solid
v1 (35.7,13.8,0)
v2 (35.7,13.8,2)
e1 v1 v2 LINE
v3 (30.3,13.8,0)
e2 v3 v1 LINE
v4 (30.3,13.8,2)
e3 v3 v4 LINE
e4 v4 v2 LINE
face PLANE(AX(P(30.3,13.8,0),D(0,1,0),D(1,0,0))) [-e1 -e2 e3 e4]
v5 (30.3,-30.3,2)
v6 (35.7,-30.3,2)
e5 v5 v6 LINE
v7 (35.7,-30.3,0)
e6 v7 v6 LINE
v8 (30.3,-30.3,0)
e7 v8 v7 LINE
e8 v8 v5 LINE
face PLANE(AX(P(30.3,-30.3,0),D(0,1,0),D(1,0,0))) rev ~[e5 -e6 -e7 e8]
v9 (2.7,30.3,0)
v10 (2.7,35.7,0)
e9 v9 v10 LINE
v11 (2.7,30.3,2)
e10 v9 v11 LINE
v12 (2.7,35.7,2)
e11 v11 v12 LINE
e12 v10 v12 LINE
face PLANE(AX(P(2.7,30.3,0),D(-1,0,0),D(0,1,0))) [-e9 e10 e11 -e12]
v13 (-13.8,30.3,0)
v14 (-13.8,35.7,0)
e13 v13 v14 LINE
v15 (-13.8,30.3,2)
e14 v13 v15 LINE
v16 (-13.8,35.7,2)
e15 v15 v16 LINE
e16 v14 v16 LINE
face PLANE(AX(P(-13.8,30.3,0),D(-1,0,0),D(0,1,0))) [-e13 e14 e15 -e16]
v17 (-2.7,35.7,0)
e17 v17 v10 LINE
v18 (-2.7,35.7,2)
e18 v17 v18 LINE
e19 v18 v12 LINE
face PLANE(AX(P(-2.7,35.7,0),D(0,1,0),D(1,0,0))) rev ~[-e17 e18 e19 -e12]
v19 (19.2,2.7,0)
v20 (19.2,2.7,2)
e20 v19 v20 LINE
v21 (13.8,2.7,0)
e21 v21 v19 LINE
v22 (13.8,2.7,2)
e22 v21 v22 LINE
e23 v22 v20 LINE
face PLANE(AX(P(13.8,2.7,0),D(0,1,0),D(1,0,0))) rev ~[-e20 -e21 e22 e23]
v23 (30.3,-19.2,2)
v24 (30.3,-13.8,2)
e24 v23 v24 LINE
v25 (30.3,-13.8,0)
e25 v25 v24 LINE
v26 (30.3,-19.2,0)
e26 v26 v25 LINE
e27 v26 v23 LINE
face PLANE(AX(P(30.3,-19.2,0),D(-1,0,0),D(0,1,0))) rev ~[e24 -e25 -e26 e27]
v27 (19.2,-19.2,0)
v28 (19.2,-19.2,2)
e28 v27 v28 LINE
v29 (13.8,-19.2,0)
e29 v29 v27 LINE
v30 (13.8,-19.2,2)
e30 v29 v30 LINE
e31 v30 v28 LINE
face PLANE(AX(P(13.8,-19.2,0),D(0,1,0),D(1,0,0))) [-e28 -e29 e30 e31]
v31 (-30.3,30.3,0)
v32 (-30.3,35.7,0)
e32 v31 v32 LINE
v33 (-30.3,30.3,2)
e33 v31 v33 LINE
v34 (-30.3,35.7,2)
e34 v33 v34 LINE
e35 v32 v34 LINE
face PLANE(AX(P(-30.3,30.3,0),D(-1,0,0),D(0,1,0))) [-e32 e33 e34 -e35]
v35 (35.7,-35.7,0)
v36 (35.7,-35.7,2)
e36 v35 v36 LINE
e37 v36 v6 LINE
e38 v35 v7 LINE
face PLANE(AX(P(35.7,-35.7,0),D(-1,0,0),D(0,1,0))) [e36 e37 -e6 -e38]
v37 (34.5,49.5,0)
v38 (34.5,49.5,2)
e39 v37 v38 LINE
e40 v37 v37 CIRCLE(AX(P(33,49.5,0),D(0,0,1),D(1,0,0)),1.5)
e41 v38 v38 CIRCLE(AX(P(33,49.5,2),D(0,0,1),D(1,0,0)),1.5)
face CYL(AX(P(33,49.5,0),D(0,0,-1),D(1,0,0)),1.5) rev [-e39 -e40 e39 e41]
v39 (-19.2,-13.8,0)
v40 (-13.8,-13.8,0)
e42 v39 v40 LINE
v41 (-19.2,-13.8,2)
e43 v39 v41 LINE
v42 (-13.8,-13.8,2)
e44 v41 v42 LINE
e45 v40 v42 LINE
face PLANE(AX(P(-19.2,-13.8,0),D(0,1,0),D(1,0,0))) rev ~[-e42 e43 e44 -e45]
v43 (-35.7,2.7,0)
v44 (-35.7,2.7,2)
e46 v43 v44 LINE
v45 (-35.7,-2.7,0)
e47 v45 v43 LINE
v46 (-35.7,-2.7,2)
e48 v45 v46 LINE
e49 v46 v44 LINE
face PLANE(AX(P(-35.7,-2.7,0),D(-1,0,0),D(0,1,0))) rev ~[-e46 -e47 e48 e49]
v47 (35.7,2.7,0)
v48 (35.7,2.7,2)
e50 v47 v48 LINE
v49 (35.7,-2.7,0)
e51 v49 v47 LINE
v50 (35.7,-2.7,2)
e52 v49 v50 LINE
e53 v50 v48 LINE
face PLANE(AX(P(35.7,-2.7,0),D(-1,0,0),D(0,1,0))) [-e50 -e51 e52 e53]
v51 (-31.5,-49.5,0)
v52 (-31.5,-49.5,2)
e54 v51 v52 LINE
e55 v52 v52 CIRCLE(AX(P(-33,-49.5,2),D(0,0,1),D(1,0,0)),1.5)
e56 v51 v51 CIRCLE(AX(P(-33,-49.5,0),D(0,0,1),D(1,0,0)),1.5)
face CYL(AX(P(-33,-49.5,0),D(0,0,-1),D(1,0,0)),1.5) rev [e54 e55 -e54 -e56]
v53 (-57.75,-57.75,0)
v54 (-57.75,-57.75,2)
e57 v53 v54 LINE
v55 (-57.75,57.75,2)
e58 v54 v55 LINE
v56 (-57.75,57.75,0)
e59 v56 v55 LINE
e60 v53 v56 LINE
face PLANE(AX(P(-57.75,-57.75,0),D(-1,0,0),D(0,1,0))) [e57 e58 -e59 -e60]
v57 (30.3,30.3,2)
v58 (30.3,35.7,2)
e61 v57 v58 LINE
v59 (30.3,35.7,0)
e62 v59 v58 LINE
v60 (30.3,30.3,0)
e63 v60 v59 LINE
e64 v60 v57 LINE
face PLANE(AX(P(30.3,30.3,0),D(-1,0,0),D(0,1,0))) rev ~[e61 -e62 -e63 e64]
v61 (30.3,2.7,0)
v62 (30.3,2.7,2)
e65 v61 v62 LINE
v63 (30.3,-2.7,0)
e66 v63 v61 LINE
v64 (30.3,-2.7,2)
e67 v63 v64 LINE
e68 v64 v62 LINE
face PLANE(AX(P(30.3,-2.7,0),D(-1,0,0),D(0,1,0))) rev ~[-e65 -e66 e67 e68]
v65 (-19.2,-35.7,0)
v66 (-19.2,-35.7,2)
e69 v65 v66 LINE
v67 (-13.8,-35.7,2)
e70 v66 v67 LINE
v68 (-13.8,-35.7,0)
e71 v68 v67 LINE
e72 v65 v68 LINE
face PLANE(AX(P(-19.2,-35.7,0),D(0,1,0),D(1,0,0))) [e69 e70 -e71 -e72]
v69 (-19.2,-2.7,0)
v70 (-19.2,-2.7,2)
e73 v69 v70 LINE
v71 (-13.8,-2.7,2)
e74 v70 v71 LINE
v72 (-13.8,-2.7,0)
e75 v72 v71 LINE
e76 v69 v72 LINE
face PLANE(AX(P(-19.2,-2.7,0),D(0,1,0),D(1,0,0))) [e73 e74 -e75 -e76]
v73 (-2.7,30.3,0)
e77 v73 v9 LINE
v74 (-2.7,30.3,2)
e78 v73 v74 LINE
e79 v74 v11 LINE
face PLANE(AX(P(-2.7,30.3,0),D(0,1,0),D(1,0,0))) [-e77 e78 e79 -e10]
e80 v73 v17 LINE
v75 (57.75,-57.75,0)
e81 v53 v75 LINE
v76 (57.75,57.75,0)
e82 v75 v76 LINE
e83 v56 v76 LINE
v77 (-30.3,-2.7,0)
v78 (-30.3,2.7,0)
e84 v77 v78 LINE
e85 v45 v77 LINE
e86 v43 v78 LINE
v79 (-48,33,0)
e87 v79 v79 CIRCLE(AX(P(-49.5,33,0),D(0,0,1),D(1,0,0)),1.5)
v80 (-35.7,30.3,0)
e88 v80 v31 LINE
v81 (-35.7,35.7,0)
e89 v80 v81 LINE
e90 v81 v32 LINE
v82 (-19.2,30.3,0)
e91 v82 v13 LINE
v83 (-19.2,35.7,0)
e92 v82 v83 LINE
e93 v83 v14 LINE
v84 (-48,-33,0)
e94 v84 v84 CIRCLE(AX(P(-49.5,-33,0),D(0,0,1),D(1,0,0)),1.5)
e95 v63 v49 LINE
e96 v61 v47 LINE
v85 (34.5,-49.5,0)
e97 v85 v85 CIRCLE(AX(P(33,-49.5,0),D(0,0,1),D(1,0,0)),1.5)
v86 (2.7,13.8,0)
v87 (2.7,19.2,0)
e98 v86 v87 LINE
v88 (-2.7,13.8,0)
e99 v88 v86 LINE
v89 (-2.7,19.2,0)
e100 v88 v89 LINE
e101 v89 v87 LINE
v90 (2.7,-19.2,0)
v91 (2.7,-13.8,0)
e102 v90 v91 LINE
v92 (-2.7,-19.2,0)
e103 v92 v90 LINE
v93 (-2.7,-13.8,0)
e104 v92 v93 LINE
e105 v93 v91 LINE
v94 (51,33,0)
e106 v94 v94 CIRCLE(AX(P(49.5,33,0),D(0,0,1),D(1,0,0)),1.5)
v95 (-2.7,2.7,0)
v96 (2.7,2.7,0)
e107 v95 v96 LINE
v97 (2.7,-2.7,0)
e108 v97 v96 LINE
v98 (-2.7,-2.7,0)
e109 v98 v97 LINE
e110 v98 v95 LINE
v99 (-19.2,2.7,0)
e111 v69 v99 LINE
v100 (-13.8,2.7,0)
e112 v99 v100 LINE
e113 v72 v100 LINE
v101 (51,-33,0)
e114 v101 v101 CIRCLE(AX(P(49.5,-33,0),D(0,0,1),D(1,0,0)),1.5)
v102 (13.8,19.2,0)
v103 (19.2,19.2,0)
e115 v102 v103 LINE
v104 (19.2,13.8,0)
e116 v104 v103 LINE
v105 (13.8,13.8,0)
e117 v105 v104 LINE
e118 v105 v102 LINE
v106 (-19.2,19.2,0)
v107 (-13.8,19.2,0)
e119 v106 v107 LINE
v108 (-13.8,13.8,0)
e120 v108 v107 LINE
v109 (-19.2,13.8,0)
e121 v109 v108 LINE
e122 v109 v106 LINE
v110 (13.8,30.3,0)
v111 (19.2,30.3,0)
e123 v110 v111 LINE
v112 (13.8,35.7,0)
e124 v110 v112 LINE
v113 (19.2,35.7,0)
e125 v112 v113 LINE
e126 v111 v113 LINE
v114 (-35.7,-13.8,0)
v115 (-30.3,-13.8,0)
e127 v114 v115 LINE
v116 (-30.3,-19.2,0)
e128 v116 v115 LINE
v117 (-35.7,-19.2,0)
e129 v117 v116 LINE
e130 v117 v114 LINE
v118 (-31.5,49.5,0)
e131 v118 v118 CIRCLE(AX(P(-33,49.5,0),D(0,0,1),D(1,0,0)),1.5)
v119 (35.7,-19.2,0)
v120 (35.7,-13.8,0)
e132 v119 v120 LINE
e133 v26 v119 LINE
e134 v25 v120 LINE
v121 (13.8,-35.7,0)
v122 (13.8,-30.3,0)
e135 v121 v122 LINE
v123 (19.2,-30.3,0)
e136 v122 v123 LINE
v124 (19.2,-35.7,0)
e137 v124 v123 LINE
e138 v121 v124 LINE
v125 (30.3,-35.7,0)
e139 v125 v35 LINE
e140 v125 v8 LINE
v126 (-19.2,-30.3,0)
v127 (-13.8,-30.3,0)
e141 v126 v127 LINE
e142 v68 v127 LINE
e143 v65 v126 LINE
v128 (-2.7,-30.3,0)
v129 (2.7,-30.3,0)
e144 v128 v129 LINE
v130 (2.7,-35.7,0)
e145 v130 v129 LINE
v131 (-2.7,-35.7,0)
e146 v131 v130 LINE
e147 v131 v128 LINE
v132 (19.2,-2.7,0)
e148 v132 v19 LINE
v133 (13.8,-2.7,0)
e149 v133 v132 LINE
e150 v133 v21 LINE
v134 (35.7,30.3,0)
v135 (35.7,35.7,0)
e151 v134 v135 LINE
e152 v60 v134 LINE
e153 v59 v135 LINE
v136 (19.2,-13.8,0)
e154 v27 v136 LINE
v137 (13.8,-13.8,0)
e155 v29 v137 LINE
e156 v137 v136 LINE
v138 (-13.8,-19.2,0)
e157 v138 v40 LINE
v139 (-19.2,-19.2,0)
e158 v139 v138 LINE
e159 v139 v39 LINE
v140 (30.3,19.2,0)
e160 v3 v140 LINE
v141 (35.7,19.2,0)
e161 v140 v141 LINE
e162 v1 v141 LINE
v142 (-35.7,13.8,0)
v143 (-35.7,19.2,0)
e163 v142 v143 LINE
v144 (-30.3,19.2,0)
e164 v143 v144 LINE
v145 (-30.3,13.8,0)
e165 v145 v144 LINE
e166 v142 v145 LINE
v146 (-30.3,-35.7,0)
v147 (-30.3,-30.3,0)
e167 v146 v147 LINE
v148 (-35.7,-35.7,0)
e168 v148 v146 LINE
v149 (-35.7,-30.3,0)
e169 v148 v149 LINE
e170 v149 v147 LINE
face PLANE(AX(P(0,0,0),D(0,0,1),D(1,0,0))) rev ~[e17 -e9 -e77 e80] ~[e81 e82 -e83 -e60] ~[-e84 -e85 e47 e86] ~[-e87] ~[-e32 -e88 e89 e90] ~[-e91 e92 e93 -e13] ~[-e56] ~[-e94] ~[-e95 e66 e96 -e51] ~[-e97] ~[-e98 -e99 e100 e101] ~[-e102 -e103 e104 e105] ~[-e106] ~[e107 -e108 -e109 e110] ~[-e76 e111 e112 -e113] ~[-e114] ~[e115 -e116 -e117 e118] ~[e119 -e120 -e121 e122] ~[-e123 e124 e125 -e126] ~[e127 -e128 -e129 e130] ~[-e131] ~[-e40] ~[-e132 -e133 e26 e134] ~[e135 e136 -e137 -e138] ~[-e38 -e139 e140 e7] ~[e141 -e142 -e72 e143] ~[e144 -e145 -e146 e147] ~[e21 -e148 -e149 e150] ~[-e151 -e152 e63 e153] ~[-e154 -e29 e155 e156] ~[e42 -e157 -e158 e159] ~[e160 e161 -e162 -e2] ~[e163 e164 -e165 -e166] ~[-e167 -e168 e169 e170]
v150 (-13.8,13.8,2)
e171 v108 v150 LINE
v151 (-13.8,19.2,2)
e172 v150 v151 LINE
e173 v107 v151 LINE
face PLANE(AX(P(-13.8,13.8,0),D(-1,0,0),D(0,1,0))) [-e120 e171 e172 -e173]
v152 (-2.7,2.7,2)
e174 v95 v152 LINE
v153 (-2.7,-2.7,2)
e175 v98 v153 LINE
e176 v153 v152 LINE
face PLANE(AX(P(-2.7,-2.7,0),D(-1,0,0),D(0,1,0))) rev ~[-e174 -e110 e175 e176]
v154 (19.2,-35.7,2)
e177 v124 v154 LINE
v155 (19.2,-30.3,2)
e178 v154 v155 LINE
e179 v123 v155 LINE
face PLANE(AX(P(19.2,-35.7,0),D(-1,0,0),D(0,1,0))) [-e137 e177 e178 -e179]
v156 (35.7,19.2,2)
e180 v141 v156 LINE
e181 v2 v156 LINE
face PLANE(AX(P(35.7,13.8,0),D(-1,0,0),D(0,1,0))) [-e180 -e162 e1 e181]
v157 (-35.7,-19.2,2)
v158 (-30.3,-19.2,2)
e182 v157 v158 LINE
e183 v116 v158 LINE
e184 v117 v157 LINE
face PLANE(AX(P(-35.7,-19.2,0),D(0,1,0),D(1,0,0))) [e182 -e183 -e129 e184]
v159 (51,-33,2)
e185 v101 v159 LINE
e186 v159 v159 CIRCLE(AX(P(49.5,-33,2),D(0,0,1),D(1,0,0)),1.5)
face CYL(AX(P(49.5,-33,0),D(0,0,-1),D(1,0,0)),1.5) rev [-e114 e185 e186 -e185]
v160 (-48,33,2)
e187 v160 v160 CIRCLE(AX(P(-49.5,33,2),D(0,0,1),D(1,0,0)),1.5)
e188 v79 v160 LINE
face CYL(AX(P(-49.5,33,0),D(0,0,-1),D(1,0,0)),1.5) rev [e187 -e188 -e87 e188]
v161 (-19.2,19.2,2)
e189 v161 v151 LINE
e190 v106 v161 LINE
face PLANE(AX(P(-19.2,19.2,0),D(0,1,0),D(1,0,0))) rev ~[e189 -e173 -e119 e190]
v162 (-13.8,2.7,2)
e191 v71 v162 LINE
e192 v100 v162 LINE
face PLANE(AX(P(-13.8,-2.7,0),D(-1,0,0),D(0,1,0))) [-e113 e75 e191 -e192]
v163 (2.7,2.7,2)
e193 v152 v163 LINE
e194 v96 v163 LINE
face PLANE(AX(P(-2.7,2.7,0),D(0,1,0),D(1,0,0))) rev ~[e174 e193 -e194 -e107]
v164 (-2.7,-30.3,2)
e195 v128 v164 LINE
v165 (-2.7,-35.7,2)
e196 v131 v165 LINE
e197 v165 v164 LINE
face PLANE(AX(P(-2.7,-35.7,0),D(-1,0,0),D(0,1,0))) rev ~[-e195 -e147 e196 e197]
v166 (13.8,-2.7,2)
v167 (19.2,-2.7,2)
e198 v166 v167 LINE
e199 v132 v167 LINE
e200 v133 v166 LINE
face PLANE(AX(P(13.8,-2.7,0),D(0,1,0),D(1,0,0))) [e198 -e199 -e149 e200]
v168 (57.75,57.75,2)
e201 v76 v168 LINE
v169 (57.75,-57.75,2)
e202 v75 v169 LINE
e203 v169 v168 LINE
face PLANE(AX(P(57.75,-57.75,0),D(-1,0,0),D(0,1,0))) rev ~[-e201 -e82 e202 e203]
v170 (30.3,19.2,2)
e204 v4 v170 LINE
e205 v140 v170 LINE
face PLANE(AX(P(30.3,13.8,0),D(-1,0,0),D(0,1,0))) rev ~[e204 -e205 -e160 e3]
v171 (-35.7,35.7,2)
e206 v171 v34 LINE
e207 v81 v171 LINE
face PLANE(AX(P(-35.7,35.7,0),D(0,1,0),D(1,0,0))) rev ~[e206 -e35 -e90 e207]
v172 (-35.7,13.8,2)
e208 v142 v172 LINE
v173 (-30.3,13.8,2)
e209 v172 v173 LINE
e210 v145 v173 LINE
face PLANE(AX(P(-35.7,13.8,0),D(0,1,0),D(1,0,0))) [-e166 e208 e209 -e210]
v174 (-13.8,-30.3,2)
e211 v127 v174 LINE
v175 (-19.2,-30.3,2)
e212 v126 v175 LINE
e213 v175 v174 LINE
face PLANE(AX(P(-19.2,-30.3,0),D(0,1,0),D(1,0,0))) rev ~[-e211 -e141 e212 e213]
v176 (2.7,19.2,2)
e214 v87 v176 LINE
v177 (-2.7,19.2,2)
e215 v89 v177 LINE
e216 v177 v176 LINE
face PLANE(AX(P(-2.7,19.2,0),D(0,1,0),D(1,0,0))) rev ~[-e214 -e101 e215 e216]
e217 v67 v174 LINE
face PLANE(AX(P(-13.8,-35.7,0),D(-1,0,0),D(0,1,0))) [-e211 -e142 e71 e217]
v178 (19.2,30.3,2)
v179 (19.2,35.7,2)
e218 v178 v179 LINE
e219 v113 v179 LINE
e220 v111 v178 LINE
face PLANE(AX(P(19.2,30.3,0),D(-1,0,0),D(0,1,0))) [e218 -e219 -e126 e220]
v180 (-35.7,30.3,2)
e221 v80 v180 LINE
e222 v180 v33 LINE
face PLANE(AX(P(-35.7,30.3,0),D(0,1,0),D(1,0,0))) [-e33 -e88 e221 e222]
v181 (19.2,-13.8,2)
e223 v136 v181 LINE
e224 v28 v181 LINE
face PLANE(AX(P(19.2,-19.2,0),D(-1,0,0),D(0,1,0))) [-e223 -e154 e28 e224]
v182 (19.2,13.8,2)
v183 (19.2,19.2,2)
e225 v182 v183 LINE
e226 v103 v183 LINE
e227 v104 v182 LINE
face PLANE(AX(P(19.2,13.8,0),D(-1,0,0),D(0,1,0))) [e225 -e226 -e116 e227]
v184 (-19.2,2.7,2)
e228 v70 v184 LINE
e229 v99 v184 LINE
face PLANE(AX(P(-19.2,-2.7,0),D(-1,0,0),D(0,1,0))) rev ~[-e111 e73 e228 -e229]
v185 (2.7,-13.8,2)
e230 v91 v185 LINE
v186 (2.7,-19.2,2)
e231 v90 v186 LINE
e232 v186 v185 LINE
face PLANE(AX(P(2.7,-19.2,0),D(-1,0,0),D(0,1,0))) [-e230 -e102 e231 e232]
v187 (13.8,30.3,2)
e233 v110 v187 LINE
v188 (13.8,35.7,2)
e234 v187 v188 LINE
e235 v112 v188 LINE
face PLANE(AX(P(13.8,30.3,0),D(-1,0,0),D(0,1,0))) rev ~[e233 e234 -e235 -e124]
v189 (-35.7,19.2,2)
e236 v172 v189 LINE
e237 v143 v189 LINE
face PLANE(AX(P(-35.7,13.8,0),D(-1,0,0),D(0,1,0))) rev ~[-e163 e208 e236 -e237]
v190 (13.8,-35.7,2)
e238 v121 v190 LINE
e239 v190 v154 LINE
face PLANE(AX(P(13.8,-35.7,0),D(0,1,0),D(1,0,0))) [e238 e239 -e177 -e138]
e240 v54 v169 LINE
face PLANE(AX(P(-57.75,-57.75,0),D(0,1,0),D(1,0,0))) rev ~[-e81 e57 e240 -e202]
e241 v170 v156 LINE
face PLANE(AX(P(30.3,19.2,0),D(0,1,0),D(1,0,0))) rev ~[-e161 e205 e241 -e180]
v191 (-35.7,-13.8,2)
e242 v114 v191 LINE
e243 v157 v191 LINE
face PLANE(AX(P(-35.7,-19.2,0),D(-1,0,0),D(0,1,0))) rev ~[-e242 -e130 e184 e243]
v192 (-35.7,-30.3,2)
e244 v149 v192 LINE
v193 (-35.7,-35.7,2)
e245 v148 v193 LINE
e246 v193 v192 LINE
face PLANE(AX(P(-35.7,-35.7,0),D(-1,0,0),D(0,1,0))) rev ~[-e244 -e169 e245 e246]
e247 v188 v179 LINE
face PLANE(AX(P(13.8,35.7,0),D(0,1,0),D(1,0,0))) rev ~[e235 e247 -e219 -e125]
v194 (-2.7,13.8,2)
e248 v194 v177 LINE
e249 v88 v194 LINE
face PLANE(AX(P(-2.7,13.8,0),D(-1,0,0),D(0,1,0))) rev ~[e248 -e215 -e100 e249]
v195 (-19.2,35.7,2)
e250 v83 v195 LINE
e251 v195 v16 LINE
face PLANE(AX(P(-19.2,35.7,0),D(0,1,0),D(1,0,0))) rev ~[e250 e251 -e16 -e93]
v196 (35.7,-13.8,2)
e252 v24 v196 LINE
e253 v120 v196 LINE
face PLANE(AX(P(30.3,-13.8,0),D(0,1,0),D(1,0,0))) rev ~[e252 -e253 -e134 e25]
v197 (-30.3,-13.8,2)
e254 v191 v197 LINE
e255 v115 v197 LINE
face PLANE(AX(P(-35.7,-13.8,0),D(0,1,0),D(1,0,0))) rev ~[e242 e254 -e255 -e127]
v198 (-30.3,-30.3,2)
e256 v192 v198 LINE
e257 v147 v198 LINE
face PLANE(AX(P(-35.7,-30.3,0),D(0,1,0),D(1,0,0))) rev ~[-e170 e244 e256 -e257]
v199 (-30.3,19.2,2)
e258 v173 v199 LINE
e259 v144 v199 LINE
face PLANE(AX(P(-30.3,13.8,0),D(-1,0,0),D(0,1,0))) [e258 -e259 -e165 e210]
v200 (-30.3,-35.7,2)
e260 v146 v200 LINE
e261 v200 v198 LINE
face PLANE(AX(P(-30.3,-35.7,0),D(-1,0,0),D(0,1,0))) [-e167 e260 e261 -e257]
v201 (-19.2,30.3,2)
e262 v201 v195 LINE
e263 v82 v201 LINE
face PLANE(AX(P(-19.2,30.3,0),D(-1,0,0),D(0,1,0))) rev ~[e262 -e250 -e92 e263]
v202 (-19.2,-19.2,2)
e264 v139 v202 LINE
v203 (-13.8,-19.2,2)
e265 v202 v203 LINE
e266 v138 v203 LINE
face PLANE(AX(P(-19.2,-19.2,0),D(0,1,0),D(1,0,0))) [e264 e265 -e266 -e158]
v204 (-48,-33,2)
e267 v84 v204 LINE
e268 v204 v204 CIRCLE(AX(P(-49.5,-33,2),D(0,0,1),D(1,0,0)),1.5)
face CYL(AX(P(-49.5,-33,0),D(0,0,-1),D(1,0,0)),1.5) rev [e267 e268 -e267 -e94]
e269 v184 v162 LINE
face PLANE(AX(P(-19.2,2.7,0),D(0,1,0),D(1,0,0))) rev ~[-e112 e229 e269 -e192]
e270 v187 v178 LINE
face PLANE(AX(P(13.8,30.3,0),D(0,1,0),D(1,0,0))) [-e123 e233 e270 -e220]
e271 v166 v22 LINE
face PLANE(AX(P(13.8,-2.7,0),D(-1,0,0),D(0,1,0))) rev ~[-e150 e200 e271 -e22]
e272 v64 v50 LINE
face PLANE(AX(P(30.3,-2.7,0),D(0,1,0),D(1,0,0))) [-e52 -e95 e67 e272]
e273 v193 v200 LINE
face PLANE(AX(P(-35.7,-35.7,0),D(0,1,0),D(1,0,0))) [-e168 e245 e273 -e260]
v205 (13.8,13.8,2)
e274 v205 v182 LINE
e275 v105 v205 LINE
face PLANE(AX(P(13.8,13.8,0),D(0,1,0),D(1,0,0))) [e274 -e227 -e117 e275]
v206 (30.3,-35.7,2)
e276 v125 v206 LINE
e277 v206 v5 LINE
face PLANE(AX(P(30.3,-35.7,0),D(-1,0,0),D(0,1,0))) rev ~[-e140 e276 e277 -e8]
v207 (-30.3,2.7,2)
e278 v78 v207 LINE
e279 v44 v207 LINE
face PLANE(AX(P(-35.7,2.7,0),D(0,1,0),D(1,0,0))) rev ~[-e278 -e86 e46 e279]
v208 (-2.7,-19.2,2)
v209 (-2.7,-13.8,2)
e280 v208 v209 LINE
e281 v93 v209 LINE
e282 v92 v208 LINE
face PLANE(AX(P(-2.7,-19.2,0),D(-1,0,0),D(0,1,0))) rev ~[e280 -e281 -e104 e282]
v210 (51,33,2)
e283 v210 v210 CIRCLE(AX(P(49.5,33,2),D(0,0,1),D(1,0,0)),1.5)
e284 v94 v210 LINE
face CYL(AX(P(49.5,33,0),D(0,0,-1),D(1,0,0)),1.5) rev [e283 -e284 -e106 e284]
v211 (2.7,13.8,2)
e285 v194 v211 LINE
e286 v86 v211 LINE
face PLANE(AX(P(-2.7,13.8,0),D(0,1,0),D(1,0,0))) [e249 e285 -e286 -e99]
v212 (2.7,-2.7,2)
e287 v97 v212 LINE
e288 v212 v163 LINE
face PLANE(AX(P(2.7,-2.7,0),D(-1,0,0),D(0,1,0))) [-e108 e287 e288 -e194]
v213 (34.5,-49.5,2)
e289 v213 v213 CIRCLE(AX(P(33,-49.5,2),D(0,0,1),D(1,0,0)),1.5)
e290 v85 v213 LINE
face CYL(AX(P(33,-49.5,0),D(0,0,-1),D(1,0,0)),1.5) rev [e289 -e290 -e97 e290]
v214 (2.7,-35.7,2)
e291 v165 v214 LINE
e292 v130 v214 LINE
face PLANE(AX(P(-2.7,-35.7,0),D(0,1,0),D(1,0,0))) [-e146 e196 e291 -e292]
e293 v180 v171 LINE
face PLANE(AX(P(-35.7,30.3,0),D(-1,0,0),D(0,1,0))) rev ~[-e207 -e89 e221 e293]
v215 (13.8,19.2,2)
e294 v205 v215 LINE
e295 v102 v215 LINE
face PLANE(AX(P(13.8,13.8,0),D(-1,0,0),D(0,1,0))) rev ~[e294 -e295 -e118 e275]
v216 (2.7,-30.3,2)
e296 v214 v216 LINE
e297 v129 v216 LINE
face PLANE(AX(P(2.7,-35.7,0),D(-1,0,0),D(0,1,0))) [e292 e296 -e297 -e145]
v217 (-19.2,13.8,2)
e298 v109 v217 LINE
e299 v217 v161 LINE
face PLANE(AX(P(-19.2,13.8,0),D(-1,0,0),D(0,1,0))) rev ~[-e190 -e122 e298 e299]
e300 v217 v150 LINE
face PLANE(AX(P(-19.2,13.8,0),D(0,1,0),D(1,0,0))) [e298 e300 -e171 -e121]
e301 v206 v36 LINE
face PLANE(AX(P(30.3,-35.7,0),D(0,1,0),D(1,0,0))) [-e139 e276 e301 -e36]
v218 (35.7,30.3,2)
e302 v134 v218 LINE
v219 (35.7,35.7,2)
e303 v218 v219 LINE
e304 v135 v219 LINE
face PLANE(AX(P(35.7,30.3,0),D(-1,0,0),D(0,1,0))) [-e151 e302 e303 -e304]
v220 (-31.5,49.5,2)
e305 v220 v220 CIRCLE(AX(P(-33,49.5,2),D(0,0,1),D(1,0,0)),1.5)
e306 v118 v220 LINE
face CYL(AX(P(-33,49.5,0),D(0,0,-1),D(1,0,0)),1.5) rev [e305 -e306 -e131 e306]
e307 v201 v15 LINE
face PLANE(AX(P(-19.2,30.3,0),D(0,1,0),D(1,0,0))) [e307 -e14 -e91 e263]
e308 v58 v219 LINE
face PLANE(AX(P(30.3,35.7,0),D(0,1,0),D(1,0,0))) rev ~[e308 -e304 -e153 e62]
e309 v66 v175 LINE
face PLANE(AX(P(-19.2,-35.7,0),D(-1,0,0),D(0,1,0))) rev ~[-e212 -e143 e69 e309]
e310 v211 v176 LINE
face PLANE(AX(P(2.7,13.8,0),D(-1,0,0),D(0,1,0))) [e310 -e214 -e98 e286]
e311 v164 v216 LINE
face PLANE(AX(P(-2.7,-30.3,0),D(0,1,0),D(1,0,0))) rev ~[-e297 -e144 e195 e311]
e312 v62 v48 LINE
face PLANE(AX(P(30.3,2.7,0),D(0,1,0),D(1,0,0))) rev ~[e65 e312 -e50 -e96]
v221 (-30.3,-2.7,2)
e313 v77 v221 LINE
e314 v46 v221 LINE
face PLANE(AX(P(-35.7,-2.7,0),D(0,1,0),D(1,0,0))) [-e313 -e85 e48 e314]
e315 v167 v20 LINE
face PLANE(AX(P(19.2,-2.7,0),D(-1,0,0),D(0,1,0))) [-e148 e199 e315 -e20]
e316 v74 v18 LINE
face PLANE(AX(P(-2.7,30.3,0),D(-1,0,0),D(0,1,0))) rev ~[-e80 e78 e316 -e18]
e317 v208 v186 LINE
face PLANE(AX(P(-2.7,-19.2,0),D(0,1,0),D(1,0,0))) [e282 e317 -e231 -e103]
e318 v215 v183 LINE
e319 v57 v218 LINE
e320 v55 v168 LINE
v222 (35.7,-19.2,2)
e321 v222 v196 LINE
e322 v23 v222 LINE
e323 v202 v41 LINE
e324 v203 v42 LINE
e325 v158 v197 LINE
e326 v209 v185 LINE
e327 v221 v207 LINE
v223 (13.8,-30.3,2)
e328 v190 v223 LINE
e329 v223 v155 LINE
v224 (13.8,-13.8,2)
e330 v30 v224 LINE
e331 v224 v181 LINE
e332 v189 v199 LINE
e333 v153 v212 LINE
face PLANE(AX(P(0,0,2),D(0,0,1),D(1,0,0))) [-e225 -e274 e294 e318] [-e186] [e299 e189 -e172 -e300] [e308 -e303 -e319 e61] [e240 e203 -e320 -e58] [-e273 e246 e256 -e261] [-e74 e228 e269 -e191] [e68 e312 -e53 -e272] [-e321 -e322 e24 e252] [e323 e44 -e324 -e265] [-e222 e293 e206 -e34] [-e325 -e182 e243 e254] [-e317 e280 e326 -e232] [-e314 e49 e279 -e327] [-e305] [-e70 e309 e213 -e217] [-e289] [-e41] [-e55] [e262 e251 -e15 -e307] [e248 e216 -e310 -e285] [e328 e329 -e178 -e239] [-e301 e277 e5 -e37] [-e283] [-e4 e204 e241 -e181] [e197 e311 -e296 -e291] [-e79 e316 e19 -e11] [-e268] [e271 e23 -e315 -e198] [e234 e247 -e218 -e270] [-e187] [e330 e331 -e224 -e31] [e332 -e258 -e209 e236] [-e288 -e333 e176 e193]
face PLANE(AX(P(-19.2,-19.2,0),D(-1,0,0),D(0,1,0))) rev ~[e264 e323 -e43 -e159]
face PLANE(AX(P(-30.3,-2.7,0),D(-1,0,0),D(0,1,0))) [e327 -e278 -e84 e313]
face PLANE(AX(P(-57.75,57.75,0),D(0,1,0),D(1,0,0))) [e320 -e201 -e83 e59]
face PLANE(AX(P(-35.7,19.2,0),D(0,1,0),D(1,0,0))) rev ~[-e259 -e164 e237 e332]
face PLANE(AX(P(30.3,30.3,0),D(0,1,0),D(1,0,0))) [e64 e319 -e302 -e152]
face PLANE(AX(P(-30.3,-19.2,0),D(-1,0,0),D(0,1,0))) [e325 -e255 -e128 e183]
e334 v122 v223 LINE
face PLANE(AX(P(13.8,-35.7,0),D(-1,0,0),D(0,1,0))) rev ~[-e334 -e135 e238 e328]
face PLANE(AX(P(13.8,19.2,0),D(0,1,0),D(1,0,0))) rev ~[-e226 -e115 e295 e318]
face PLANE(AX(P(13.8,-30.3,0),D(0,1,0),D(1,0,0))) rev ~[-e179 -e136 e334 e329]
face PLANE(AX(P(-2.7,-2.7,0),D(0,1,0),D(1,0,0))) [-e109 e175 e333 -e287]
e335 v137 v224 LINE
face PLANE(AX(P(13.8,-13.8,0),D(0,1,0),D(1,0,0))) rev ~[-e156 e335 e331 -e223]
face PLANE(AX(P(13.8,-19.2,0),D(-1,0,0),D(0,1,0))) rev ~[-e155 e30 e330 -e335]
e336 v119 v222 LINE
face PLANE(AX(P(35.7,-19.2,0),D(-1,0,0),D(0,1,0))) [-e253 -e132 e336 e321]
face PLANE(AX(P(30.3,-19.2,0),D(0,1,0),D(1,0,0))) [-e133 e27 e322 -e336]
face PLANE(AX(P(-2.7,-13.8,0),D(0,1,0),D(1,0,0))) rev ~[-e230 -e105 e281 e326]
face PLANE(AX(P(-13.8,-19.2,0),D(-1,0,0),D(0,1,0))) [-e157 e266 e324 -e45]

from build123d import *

# Parameters (mm, degrees)
SKETCH_W   = 115.5
SKETCH_H   = 115.5
SKETCH_R   = 1.5
SKETCH_W_2 = 5.4
SKETCH_H_2 = 5.4
PAD_DEPTH  = 2


with BuildPart() as part:
    # Sketch → Pad (new body)
    with BuildSketch(Plane.XY):
        Rectangle(SKETCH_W, SKETCH_H)
        with Locations((-49.5, 33)):
            Circle(SKETCH_R, mode=Mode.SUBTRACT)
        with Locations((-33, 49.5)):
            Circle(SKETCH_R, mode=Mode.SUBTRACT)
        with Locations((33, 49.5)):
            Circle(SKETCH_R, mode=Mode.SUBTRACT)
        with Locations((49.5, 33)):
            Circle(SKETCH_R, mode=Mode.SUBTRACT)
        with Locations((49.5, -33)):
            Circle(SKETCH_R, mode=Mode.SUBTRACT)
        with Locations((33, -49.5)):
            Circle(SKETCH_R, mode=Mode.SUBTRACT)
        with Locations((-33, -49.5)):
            Circle(SKETCH_R, mode=Mode.SUBTRACT)
        with Locations((-49.5, -33)):
            Circle(SKETCH_R, mode=Mode.SUBTRACT)
        Rectangle(SKETCH_W_2, SKETCH_H_2, mode=Mode.SUBTRACT)
        with Locations((-16.5, 0)):
            Rectangle(SKETCH_W_2, SKETCH_H_2, mode=Mode.SUBTRACT)
        with Locations((-33, 0)):
            Rectangle(SKETCH_W_2, SKETCH_H_2, mode=Mode.SUBTRACT)
        with Locations((16.5, 0)):
            Rectangle(SKETCH_W_2, SKETCH_H_2, mode=Mode.SUBTRACT)
        with Locations((33, 0)):
            Rectangle(SKETCH_W_2, SKETCH_H_2, mode=Mode.SUBTRACT)
        with Locations((0, -16.5)):
            Rectangle(SKETCH_W_2, SKETCH_H_2, mode=Mode.SUBTRACT)
        with Locations((-16.5, -16.5)):
            Rectangle(SKETCH_W_2, SKETCH_H_2, mode=Mode.SUBTRACT)
        with Locations((-33, -16.5)):
            Rectangle(SKETCH_W_2, SKETCH_H_2, mode=Mode.SUBTRACT)
        with Locations((16.5, -16.5)):
            Rectangle(SKETCH_W_2, SKETCH_H_2, mode=Mode.SUBTRACT)
        with Locations((33, -16.5)):
            Rectangle(SKETCH_W_2, SKETCH_H_2, mode=Mode.SUBTRACT)
        with Locations((0, 16.5)):
            Rectangle(SKETCH_W_2, SKETCH_H_2, mode=Mode.SUBTRACT)
        with Locations((-16.5, 16.5)):
            Rectangle(SKETCH_W_2, SKETCH_H_2, mode=Mode.SUBTRACT)
        with Locations((-33, 16.5)):
            Rectangle(SKETCH_W_2, SKETCH_H_2, mode=Mode.SUBTRACT)
        with Locations((16.5, 16.5)):
            Rectangle(SKETCH_W_2, SKETCH_H_2, mode=Mode.SUBTRACT)
        with Locations((33, 16.5)):
            Rectangle(SKETCH_W_2, SKETCH_H_2, mode=Mode.SUBTRACT)
        with Locations((0, 33)):
            Rectangle(SKETCH_W_2, SKETCH_H_2, mode=Mode.SUBTRACT)
        with Locations((-16.5, 33)):
            Rectangle(SKETCH_W_2, SKETCH_H_2, mode=Mode.SUBTRACT)
        with Locations((-33, 33)):
            Rectangle(SKETCH_W_2, SKETCH_H_2, mode=Mode.SUBTRACT)
        with Locations((16.5, 33)):
            Rectangle(SKETCH_W_2, SKETCH_H_2, mode=Mode.SUBTRACT)
        with Locations((33, 33)):
            Rectangle(SKETCH_W_2, SKETCH_H_2, mode=Mode.SUBTRACT)
        with Locations((0, -33)):
            Rectangle(SKETCH_W_2, SKETCH_H_2, mode=Mode.SUBTRACT)
        with Locations((-16.5, -33)):
            Rectangle(SKETCH_W_2, SKETCH_H_2, mode=Mode.SUBTRACT)
        with Locations((-33, -33)):
            Rectangle(SKETCH_W_2, SKETCH_H_2, mode=Mode.SUBTRACT)
        with Locations((16.5, -33)):
            Rectangle(SKETCH_W_2, SKETCH_H_2, mode=Mode.SUBTRACT)
        with Locations((33, -33)):
            Rectangle(SKETCH_W_2, SKETCH_H_2, mode=Mode.SUBTRACT)
    extrude(amount=PAD_DEPTH)


solid = part.part
